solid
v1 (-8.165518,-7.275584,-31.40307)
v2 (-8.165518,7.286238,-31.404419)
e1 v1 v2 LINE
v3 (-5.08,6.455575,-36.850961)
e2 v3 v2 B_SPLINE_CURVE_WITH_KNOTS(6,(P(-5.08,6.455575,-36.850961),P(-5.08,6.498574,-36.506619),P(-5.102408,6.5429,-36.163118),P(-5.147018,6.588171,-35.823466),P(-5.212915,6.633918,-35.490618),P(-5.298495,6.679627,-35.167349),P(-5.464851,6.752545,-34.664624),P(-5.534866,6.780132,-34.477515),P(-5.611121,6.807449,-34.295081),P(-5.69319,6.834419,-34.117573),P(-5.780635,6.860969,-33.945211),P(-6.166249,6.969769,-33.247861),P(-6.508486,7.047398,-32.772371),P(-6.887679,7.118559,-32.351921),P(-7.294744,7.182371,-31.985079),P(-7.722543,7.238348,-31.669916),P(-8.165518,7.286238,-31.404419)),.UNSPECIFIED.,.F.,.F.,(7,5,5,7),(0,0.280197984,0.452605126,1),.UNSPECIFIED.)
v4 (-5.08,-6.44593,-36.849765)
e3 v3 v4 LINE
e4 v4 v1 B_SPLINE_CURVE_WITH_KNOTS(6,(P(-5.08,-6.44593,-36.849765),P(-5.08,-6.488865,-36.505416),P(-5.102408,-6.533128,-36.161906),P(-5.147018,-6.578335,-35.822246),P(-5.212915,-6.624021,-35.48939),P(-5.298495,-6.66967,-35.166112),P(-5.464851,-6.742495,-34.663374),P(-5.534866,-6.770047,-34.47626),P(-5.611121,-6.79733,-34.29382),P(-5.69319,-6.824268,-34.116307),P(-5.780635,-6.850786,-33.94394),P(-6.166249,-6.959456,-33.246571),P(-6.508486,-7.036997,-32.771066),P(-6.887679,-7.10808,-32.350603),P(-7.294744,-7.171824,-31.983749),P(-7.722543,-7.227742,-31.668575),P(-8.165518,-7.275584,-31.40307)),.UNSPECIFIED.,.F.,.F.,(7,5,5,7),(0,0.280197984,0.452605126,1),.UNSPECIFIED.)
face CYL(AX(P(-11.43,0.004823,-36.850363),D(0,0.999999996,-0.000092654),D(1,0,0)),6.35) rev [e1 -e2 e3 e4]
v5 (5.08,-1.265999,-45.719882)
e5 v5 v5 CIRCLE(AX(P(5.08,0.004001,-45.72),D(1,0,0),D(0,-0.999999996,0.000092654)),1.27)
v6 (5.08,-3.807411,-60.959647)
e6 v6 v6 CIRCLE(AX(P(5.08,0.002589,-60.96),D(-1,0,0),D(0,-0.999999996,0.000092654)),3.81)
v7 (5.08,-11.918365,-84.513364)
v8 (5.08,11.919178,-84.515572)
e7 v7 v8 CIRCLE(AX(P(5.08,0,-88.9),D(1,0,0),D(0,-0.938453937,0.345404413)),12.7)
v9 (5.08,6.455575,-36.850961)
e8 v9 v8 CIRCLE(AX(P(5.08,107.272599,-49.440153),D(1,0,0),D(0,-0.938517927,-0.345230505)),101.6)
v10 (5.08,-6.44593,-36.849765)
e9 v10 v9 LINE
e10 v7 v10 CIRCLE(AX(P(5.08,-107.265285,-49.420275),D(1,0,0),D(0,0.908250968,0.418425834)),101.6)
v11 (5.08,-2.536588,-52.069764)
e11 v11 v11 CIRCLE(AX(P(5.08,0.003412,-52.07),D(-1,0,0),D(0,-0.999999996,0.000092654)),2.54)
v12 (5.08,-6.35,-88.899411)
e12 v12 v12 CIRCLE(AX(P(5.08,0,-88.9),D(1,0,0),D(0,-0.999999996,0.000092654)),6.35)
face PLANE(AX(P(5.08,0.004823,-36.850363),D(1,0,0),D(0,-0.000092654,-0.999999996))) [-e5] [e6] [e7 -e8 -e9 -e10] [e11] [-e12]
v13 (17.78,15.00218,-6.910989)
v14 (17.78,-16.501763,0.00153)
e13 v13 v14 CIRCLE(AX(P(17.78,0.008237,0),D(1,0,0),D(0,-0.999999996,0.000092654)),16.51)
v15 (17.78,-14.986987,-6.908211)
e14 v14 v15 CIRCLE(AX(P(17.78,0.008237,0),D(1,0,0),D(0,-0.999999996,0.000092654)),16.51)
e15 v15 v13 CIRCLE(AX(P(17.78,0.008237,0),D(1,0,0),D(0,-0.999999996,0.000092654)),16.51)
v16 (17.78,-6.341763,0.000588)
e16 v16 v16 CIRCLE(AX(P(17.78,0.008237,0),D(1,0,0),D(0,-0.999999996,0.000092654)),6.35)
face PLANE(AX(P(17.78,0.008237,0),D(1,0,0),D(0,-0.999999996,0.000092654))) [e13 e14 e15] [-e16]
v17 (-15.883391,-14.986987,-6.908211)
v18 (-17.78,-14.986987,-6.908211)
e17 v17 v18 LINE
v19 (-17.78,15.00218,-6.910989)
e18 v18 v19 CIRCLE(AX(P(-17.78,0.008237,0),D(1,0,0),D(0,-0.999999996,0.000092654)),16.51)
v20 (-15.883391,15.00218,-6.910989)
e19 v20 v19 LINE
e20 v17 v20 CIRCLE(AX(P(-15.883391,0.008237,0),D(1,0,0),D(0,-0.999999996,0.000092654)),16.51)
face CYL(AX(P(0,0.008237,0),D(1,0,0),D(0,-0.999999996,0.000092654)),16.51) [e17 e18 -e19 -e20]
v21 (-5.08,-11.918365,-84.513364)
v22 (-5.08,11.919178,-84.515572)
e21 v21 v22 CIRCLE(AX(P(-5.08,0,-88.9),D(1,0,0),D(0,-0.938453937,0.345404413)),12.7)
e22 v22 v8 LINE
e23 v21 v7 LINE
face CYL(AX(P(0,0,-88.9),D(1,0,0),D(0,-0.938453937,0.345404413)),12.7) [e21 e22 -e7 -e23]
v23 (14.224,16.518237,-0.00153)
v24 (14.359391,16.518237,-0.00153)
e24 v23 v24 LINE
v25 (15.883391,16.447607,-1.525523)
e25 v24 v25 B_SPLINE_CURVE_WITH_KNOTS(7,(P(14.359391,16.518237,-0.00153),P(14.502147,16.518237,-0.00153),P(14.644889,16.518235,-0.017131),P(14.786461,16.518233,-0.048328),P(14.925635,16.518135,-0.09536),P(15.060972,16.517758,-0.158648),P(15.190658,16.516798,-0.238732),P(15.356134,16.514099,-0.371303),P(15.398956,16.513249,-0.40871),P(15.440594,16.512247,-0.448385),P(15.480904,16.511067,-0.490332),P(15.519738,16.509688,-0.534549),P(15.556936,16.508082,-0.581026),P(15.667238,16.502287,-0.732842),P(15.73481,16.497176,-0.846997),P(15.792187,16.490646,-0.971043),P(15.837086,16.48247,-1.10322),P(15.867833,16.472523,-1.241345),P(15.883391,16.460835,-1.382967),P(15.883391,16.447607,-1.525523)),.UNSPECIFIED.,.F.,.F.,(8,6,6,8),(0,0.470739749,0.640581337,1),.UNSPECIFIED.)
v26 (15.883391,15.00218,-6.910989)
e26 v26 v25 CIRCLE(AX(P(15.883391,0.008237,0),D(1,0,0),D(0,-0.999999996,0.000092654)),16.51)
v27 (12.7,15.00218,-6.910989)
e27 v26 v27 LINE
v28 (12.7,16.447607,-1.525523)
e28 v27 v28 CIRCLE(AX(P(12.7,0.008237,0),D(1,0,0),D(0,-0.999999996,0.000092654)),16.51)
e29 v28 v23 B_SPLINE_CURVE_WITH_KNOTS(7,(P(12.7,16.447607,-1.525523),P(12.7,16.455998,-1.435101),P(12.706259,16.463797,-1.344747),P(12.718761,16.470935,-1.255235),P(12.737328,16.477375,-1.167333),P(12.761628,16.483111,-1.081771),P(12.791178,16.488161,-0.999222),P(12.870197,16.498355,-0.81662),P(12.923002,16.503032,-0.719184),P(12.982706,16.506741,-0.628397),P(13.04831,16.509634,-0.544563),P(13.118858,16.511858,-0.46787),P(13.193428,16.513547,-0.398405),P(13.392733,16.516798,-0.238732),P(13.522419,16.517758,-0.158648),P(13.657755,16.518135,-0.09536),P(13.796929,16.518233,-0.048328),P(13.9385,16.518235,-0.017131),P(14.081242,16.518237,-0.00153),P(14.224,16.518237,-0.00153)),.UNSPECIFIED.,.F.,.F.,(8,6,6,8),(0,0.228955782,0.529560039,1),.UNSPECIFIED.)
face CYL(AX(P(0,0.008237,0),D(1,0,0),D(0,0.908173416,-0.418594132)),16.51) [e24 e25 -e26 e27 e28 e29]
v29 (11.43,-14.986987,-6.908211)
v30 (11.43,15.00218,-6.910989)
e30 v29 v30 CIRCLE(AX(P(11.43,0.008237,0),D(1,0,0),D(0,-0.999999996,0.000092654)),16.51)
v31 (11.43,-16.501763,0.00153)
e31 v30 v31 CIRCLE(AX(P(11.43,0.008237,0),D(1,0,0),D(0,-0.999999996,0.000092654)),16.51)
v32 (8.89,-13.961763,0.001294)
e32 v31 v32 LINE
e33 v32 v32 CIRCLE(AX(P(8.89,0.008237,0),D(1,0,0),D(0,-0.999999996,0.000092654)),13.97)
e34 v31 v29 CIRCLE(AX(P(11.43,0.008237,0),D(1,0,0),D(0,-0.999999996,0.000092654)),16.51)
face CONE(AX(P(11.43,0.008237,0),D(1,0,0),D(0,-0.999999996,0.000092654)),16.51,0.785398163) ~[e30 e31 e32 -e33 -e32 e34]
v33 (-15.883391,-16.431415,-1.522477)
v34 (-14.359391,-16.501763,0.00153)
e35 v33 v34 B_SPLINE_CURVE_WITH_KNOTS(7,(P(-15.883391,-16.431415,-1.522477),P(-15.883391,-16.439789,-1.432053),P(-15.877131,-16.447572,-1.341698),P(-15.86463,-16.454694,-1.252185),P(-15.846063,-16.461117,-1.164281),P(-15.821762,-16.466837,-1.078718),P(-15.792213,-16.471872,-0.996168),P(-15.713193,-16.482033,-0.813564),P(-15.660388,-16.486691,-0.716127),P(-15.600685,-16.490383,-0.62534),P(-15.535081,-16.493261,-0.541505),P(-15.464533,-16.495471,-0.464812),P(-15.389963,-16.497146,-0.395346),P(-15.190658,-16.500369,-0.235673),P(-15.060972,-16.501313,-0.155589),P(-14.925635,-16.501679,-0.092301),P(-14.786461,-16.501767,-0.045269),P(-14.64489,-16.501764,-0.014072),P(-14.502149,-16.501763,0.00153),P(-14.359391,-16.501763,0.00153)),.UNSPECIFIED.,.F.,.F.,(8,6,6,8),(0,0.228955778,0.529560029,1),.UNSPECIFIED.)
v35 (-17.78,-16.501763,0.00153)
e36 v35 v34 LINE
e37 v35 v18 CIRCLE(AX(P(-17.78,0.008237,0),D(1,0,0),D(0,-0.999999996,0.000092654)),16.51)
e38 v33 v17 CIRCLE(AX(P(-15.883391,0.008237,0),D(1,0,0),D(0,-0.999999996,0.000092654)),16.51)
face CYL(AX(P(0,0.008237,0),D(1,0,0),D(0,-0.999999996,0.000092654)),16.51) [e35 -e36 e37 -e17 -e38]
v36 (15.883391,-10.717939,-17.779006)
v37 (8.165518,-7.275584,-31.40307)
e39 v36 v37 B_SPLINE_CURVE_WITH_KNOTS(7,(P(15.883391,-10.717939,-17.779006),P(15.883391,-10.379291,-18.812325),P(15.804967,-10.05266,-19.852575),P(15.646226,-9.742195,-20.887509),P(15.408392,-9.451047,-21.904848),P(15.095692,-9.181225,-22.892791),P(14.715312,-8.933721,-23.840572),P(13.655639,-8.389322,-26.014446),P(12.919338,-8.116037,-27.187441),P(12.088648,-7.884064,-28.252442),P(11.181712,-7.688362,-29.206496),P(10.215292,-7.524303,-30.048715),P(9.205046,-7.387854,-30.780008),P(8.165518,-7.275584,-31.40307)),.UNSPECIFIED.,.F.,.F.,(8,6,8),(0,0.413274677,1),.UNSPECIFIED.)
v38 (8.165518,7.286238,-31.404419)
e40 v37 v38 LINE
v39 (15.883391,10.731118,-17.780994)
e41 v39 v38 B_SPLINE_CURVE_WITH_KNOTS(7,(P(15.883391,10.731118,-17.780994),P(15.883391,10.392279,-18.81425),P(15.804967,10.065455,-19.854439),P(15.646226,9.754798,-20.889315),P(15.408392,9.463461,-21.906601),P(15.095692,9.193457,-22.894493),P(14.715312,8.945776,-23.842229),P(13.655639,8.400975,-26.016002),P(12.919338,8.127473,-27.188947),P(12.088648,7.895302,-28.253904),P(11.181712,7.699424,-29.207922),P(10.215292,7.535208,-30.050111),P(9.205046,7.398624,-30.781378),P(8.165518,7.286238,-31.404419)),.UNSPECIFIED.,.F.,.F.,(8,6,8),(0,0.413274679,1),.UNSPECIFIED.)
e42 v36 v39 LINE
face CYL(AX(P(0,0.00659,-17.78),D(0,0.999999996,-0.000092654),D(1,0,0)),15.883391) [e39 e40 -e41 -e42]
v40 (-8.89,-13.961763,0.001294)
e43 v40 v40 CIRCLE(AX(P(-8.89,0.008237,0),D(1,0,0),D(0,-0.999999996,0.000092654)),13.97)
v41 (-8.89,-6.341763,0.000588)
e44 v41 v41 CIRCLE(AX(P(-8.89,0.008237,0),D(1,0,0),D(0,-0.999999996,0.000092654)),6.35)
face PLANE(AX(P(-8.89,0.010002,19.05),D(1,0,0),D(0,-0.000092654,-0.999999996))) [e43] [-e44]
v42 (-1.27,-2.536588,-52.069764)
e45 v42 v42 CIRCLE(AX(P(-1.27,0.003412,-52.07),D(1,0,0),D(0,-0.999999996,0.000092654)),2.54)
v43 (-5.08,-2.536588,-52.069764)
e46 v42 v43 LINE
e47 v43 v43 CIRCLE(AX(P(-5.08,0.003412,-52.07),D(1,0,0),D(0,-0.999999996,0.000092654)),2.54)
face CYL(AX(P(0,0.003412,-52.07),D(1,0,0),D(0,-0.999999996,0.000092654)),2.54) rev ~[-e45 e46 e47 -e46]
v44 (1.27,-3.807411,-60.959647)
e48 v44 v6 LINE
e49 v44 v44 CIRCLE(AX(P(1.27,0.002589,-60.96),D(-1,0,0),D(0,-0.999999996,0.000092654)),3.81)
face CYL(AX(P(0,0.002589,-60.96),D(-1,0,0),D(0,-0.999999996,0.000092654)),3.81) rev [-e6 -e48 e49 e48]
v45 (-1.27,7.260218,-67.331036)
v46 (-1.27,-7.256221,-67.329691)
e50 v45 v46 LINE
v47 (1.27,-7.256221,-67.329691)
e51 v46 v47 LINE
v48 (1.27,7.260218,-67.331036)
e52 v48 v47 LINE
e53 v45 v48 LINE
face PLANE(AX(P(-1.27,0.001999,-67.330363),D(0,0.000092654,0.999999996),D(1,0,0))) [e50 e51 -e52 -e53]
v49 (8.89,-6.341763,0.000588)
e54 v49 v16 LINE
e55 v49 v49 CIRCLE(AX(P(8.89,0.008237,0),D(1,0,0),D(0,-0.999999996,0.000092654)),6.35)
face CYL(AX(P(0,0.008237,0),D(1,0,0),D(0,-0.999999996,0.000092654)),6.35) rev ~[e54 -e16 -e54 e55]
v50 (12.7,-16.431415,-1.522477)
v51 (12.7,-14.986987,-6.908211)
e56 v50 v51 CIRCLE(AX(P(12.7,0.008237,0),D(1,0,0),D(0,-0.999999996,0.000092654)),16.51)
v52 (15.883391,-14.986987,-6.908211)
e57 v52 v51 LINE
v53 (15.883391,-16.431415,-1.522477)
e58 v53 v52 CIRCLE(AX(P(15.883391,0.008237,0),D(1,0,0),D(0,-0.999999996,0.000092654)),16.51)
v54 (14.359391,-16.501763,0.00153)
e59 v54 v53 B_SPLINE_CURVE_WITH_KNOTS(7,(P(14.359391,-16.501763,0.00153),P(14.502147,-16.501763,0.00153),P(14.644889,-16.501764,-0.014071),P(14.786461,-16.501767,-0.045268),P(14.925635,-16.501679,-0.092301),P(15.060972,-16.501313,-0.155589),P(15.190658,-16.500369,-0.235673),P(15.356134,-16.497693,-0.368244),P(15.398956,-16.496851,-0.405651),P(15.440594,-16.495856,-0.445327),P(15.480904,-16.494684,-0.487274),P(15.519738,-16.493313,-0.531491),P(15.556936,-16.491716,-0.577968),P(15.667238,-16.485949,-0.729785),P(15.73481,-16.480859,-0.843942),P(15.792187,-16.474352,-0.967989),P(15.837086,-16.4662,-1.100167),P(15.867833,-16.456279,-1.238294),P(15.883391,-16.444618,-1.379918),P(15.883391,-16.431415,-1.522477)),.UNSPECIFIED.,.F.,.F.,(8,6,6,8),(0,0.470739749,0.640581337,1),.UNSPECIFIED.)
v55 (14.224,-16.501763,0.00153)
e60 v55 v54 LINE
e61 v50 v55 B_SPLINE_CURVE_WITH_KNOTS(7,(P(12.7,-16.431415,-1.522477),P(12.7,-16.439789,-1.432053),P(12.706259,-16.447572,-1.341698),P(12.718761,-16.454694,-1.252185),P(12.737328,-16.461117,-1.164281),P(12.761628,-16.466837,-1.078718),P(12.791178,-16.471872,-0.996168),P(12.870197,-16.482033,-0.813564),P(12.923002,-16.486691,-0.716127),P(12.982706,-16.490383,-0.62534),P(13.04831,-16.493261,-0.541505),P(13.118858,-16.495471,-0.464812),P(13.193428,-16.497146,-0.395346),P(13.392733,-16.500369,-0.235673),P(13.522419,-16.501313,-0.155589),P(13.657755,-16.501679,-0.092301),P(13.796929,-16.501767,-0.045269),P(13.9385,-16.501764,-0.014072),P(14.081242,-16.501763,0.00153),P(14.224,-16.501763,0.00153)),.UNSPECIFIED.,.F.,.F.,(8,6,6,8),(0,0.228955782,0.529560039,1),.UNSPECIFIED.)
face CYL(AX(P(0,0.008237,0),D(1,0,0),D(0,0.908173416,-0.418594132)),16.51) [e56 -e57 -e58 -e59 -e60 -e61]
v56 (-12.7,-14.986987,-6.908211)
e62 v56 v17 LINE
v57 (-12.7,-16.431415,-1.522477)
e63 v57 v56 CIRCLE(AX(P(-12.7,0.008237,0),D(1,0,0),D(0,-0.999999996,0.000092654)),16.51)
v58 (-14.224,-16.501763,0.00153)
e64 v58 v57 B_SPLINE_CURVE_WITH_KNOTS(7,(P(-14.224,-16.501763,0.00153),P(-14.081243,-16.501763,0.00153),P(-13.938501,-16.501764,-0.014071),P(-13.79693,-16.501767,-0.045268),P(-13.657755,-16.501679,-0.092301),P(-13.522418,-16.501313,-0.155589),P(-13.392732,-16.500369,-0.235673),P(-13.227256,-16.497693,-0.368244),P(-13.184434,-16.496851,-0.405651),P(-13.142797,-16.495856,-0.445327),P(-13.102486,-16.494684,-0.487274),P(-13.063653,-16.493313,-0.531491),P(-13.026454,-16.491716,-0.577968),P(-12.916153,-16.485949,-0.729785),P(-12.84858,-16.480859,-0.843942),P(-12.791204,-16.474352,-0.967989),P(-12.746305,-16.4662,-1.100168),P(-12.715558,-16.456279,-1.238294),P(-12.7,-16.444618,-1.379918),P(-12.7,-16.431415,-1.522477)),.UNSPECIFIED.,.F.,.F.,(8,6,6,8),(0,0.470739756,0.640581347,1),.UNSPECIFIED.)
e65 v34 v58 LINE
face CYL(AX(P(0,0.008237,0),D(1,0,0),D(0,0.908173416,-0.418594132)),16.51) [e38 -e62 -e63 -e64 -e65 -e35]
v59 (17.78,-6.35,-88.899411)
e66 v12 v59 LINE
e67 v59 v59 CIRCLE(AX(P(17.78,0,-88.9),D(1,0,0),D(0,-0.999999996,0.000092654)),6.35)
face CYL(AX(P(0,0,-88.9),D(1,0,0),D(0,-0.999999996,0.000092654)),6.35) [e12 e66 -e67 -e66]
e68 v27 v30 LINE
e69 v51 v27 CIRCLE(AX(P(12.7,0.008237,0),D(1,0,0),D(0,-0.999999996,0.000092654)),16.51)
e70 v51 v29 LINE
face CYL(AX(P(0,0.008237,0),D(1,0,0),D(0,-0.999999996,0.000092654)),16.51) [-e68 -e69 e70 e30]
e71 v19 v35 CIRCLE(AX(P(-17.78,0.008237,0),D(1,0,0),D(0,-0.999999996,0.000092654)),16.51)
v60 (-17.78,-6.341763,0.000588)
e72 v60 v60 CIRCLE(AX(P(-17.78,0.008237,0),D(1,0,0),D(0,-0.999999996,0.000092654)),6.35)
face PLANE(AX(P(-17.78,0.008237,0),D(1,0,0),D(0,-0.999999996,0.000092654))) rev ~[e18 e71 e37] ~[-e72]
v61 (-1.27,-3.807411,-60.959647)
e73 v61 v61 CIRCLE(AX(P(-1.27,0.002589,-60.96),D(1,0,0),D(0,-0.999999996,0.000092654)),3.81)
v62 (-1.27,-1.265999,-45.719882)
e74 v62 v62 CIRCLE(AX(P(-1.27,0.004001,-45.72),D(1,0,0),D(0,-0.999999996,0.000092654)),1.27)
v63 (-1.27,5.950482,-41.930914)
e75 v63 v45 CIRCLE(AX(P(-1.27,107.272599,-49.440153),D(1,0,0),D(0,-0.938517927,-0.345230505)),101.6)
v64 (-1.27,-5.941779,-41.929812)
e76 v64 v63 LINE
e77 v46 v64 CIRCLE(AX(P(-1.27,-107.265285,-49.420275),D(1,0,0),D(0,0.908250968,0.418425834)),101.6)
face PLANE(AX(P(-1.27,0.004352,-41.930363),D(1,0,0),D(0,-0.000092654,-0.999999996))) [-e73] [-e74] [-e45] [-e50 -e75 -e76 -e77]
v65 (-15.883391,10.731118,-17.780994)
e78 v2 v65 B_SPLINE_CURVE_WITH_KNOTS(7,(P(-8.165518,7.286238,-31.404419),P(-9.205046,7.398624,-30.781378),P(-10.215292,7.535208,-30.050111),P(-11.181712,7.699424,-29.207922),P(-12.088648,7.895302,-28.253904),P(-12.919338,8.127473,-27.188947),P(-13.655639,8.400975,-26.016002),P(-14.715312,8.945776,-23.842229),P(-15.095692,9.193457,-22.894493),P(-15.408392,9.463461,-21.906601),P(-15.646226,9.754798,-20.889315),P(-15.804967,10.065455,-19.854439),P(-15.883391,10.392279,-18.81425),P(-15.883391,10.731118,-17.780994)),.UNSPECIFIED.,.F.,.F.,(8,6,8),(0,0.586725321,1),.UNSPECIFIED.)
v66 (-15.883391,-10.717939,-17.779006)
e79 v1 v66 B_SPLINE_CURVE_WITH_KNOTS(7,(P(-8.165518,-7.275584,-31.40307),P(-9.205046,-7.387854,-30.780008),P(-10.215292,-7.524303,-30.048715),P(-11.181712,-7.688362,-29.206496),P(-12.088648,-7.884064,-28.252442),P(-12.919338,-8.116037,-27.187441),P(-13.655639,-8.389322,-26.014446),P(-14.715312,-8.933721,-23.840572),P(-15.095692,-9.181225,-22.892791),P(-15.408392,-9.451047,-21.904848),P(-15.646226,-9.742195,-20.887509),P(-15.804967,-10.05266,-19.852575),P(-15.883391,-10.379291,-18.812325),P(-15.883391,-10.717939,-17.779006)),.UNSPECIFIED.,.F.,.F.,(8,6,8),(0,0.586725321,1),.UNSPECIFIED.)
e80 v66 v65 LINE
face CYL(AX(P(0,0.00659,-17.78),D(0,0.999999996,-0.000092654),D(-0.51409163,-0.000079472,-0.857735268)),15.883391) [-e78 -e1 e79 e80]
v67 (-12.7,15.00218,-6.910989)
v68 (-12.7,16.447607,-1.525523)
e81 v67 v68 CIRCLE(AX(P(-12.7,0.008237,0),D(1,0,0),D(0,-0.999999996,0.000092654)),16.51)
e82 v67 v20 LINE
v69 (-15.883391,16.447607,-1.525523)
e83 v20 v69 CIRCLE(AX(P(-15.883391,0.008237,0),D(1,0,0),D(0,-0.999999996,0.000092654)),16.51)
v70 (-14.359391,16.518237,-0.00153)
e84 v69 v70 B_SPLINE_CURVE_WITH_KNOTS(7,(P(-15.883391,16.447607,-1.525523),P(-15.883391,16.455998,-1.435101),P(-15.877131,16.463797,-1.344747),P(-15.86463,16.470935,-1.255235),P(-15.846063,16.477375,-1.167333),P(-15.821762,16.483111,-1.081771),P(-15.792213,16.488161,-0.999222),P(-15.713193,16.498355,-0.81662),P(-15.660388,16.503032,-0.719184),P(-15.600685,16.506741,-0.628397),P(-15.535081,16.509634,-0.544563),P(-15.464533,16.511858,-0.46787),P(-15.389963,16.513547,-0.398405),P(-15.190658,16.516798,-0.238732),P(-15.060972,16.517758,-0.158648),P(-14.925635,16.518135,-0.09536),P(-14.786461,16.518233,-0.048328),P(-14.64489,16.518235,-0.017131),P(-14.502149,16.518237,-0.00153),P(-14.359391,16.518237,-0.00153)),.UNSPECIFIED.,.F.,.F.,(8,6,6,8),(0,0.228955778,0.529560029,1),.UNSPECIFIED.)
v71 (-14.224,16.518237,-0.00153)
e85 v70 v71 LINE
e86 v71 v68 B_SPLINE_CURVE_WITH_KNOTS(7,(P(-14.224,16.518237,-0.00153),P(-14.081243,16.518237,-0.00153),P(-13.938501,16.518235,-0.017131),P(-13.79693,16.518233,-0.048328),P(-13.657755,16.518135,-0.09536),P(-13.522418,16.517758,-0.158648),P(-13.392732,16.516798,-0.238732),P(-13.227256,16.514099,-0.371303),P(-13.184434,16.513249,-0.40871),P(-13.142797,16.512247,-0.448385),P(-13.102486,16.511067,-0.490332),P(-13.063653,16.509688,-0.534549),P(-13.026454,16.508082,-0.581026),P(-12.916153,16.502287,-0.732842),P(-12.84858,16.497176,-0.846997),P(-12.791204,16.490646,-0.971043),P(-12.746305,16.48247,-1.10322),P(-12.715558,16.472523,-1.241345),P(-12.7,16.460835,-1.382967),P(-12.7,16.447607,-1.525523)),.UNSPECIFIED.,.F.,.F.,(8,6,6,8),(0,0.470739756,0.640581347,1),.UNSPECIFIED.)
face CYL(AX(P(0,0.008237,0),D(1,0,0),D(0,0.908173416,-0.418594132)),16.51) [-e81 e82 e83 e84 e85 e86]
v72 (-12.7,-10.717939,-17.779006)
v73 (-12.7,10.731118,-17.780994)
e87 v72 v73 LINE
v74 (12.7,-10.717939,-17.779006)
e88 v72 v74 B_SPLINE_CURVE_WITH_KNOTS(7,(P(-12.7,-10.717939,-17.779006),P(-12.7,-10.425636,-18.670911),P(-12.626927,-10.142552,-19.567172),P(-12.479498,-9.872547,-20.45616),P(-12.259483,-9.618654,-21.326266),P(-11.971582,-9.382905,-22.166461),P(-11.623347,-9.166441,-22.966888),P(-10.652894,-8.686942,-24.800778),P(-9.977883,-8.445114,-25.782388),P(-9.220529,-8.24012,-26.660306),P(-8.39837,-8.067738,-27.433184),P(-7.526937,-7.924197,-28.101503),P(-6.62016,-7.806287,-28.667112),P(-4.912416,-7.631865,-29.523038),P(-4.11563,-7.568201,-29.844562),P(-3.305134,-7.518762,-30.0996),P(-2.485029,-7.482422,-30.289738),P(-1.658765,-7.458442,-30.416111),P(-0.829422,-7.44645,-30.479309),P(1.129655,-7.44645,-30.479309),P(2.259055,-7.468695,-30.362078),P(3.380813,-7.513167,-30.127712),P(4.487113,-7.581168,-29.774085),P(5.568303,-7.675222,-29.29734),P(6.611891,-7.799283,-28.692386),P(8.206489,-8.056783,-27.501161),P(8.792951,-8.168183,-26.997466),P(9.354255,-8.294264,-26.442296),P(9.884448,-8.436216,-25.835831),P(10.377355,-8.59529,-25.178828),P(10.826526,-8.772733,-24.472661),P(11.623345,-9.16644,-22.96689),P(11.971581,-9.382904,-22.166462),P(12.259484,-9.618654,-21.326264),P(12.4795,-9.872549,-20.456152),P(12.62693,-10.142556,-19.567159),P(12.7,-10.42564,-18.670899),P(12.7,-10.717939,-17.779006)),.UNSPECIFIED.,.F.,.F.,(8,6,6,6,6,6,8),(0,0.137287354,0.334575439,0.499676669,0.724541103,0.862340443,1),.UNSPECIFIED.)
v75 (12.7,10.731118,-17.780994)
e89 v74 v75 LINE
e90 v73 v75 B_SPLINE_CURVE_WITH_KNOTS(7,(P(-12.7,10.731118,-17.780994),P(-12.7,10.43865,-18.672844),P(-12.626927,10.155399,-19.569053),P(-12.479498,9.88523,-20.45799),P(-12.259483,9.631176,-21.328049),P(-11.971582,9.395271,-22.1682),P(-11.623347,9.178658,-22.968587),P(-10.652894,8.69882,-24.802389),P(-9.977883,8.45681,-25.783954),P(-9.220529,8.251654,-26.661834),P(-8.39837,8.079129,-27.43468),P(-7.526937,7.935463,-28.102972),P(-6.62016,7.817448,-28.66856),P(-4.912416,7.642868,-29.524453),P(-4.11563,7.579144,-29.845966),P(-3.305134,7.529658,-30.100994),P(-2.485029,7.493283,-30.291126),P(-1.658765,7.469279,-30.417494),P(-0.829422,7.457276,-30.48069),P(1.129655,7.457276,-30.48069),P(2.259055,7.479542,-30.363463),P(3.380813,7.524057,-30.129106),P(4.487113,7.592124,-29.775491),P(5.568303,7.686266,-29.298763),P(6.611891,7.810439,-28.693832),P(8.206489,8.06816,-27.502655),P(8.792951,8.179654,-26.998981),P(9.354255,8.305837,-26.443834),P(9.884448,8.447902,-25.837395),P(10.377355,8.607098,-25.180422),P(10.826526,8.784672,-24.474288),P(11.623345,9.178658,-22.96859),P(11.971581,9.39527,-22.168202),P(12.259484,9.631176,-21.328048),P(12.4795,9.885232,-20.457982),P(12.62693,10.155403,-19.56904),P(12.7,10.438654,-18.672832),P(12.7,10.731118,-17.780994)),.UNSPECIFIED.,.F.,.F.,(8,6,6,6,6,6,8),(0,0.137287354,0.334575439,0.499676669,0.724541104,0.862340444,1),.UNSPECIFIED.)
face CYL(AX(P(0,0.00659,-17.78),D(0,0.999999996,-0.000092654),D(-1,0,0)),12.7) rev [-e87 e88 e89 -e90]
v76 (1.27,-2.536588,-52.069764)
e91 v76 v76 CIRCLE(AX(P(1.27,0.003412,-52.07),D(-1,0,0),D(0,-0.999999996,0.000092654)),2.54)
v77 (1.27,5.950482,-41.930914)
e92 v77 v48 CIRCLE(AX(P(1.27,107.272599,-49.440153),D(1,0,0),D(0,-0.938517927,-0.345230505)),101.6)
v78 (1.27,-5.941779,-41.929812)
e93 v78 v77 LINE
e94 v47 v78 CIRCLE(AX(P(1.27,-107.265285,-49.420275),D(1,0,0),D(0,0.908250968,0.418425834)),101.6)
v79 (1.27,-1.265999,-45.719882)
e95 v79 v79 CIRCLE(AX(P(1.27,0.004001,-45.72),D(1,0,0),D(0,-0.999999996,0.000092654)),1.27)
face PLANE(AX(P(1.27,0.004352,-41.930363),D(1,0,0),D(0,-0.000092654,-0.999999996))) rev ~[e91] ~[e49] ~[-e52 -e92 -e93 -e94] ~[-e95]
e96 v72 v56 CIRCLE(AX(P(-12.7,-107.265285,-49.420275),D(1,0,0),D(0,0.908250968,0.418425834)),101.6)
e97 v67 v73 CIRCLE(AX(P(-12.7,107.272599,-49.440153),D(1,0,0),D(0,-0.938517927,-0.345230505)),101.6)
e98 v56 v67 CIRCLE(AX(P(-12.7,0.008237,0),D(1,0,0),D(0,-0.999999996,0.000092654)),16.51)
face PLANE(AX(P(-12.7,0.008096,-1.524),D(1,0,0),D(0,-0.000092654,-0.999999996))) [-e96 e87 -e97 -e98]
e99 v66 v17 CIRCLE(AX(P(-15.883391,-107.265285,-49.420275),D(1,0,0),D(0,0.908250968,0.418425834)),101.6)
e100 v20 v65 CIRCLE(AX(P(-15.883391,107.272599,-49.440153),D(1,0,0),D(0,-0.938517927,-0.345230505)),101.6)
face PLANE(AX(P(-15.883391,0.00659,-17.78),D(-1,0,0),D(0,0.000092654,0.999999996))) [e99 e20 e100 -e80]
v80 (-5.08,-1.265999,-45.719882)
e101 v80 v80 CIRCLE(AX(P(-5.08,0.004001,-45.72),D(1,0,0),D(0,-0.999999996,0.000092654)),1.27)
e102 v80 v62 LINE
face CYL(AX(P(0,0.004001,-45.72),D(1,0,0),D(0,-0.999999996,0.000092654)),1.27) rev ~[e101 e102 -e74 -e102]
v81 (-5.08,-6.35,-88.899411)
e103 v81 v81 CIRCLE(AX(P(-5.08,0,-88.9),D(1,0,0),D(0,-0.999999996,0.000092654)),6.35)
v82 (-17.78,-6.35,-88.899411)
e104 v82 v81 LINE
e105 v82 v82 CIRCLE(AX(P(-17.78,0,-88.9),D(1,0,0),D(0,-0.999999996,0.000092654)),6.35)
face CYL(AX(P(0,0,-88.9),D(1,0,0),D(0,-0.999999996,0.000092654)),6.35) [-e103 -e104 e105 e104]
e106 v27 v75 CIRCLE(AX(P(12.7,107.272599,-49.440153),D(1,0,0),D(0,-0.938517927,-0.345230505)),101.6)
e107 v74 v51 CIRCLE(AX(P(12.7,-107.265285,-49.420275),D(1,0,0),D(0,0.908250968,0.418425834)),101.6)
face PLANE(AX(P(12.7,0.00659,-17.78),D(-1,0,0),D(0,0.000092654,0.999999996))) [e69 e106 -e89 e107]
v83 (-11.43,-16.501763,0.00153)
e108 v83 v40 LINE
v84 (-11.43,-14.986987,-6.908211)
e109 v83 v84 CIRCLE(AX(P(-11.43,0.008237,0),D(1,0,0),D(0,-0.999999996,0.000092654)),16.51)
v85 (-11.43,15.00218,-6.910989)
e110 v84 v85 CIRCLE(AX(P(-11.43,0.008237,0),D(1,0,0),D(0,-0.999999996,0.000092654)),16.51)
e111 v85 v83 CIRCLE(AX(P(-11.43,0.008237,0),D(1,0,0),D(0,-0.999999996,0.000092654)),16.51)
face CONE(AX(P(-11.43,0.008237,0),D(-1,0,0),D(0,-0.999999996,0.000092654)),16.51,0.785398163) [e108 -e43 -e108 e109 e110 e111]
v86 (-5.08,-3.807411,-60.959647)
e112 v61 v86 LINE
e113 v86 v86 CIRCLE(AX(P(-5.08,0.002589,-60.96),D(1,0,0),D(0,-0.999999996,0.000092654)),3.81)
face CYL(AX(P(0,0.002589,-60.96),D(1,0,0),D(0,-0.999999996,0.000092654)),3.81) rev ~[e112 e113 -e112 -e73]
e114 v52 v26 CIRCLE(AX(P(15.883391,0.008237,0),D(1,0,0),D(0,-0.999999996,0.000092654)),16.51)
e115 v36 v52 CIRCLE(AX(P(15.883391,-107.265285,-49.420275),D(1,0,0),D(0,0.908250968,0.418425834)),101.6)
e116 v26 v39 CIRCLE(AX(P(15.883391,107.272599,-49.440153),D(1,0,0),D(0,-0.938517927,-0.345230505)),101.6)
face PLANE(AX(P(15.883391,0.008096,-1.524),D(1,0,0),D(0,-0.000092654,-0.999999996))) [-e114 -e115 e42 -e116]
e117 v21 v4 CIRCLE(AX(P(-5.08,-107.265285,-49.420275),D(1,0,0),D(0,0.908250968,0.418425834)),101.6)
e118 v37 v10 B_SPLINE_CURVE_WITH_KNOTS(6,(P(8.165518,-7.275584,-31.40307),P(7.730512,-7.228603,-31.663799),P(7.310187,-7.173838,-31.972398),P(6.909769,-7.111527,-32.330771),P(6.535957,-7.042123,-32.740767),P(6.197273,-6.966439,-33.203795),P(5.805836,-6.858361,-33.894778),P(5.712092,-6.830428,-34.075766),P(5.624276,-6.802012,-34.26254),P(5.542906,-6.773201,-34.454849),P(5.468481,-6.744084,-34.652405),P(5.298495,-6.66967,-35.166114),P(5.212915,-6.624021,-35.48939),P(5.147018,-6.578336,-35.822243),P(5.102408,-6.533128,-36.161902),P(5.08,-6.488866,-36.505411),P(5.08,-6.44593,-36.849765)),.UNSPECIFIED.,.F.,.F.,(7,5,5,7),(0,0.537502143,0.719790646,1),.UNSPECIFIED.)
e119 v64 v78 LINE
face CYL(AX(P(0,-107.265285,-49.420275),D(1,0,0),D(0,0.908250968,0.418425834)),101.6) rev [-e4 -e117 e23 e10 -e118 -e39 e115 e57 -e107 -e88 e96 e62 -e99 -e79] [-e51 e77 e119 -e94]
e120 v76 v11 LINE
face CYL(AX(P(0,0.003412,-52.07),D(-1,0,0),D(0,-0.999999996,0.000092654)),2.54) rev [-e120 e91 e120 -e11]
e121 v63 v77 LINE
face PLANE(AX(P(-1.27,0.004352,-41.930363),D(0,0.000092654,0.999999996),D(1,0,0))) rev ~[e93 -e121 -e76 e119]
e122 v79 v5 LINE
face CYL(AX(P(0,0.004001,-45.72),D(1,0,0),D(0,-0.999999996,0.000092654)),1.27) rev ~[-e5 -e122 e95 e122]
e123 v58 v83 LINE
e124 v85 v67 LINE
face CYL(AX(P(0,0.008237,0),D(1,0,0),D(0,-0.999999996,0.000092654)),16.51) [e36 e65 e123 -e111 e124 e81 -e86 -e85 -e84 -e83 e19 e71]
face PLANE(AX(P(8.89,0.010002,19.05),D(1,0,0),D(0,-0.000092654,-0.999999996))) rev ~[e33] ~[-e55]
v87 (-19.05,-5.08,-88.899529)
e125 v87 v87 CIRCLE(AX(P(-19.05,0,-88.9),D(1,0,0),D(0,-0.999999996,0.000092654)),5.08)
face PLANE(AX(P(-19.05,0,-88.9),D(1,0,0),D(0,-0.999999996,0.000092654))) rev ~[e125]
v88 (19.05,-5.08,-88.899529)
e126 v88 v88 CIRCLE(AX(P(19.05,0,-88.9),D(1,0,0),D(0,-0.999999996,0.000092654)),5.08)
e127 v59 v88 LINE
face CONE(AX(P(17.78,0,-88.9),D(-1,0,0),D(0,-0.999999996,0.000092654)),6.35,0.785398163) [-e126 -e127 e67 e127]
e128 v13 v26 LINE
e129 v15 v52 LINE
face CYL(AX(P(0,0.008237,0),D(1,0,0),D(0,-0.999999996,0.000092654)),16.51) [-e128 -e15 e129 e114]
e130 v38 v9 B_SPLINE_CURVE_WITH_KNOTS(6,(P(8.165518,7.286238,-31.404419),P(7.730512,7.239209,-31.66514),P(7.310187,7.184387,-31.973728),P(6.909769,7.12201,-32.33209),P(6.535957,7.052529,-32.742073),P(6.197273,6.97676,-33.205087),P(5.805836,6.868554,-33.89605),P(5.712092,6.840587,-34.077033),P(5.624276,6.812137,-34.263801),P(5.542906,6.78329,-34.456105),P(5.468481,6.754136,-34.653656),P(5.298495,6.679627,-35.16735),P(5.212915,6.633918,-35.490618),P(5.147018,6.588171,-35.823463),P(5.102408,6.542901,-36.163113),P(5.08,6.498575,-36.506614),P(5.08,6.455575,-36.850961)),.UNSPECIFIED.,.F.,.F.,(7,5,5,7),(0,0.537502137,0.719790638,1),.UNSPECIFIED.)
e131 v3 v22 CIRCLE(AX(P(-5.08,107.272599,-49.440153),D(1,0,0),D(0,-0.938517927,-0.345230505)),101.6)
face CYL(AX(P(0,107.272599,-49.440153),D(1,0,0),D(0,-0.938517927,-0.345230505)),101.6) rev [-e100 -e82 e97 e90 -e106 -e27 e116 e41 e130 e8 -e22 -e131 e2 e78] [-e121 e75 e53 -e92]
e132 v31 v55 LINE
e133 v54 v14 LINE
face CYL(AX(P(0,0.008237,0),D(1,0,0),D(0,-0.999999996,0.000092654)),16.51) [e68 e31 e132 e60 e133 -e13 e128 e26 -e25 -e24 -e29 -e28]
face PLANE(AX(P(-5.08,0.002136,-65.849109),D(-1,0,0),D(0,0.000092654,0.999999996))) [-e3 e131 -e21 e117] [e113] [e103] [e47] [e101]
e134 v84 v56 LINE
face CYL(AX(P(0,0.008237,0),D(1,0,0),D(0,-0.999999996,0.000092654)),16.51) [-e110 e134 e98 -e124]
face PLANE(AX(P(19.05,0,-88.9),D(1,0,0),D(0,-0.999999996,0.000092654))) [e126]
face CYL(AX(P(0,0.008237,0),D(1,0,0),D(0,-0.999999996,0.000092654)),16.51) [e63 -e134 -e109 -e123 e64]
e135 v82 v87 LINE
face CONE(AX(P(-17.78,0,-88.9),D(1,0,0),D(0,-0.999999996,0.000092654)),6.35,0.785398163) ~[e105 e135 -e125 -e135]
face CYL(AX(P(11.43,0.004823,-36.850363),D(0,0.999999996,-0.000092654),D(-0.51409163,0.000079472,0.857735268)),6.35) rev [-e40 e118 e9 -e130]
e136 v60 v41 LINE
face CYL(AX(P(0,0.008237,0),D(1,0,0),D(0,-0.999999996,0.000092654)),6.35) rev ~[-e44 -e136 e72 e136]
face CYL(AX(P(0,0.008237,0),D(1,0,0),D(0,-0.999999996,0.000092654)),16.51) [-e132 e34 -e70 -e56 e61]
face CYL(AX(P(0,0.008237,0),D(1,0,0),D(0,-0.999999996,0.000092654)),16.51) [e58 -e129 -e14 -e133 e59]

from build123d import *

# Parameters (mm, degrees)
F1_DEPTH  = 19.05
F3_R      = 16.51
F4_DEPTH  = 17.78
F2_R      = 6.35
F6_DEPTH  = 38.1
F5_W      = 17.78
F5_H      = 38.1
F7_DEPTH  = 19.05
F8_SIZE   = 2.54
F10_DEPTH = 5.08
F11_R     = 6.35
F12_DEPTH = 19.05
F13_SIZE  = 1.27
F15_DEPTH = 38.1
F16_W     = 2.54
F16_H     = 25.4
F17_DEPTH = 25.4
F18_R     = 3.81
F18_R_2   = 2.54
F18_R_3   = 1.27
F19_DEPTH = 12.7
F20_ANGLE = 179.9946913403


with BuildPart() as f1:
    # F0 (on Front) → F1 (new body, symmetric)
    with BuildSketch(Plane.XZ):
        with BuildLine():
            ThreePointArc((-5.08, -13.9496366999), (-5.9049678847, -17.0795760164), (-8.1655181496, -19.3962556739))
            ThreePointArc((-8.1655181496, -19.3962556739), (-13.8198807904, -25.1910159629), (-15.8833905736, -33.02))
            Line((-15.8833905736, -33.02), (-15.8833905736, -49.276))
            ThreePointArc((-15.8833905736, -49.276), (-15.4370213081, -50.3536307345), (-14.3593905736, -50.8))
            Line((-14.3593905736, -50.8), (-14.224, -50.8))
            ThreePointArc((-14.224, -50.8), (-13.1463692655, -50.3536307345), (-12.7, -49.276))
            Line((-12.7, -49.276), (-12.7, -33.02))
            ThreePointArc((-12.7, -33.02), (0, -20.32), (12.7, -33.02))
            Line((12.7, -33.02), (12.7, -49.276))
            ThreePointArc((12.7, -49.276), (13.1463692655, -50.3536307345), (14.224, -50.8))
            Line((14.224, -50.8), (14.3593905736, -50.8))
            ThreePointArc((14.3593905736, -50.8), (15.4370213081, -50.3536307345), (15.8833905736, -49.276))
            Line((15.8833905736, -49.276), (15.8833905736, -33.02))
            ThreePointArc((15.8833905736, -33.02), (13.8198807904, -25.1910159629), (8.1655181496, -19.3962556739))
            ThreePointArc((8.1655181496, -19.3962556739), (5.9049678847, -17.0795760164), (5.08, -13.9496366999))
            Line((5.08, -13.9496366999), (5.08, 15.0491094791))
            Line((5.08, 15.0491094791), (-5.08, 15.0491094791))
            Line((-5.08, 15.0491094791), (-5.08, -13.9496366999))
        make_face()
    extrude(amount=F1_DEPTH, both=True)

    # F3 (on Right) → F4 (join, symmetric)
    with BuildSketch(Plane.YZ):
        with Locations((0, -50.8)):
            Circle(F3_R)
    extrude(amount=F4_DEPTH, both=True)

    # F2 (on Right) → F6 (cut, symmetric)
    with BuildSketch(Plane.YZ):
        with Locations((0, -50.8)):
            Circle(F2_R)
    extrude(amount=F6_DEPTH, both=True, mode=Mode.SUBTRACT)

    # F5 (on Front) → F7 (cut, symmetric)
    with BuildSketch(Plane.XZ):
        with Locations((0, -50.8)):
            Rectangle(F5_W, F5_H)
    extrude(amount=F7_DEPTH, both=True, mode=Mode.SUBTRACT)

    # F8
    f8_edges = [f1.edges().sort_by_distance(p)[0] for p in [
        (-8.89, -16.51, -50.8),
        (8.89, -16.51, -50.8),
    ]]
    chamfer(f8_edges, length=F8_SIZE)

    # F9 (on Right) → F10 (join, symmetric)
    with BuildSketch(Plane.YZ):
        with BuildLine():
            Line((19.0499954742, 12.6868685902), (19.0499954742, 38.0868685902))
            ThreePointArc((19.0499954742, 38.0868685902), (0, 57.15), (-19.0499954742, 38.0868685902))
            Line((-19.0499954742, 38.0868685902), (-19.0499954742, 12.6868685902))
            Line((-19.0499954742, 12.6868685902), (19.0499954742, 12.6868685902))
        make_face()
    extrude(amount=F10_DEPTH, both=True)

    # F11 (on Right) → F12 (join, symmetric)
    with BuildSketch(Plane.YZ):
        with Locations((0, 38.1)):
            Circle(F11_R)
    extrude(amount=F12_DEPTH, both=True)

    # F13
    f13_edges = [f1.edges().sort_by_distance(p)[0] for p in [
        (-19.05, -6.35, 38.1),
        (19.05, -6.35, 38.1),
    ]]
    chamfer(f13_edges, length=F13_SIZE)

    # F14 (on Right) → F15 (intersect, symmetric)
    with BuildSketch(Plane.YZ):
        with BuildLine():
            ThreePointArc((14.9945833541, -43.8904001536), (5.7486490124, -5.3934679933), (11.918771384, 33.714468254))
            ThreePointArc((11.918771384, 33.714468254), (0, 50.8), (-11.918771384, 33.714468254))
            ThreePointArc((-11.918771384, 33.714468254), (-5.7486490124, -5.3934679933), (-14.9945833541, -43.8904001536))
            ThreePointArc((-14.9945833541, -43.8904001536), (0, -67.31), (14.9945833541, -43.8904001536))
        make_face()
    extrude(amount=F15_DEPTH, both=True, mode=Mode.INTERSECT)

    # F16 (on Front) → F17 (cut, symmetric)
    with BuildSketch(Plane.XZ):
        with Locations((0, 3.8303633001)):
            Rectangle(F16_W, F16_H)
    extrude(amount=F17_DEPTH, both=True, mode=Mode.SUBTRACT)

    # F18 (on Right) → F19 (cut, symmetric)
    with BuildSketch(Plane.YZ):
        with Locations((0, 10.16)):
            Circle(F18_R)
        with Locations((0, 1.27)):
            Circle(F18_R_2)
        with Locations((0, -5.08)):
            Circle(F18_R_3)
    extrude(amount=F19_DEPTH, both=True, mode=Mode.SUBTRACT)


with BuildPart() as f1_1:
    # F20: moved
    add(f1.part.rotate(Axis((19.05, 0, 38.1), (1, 0, 0)), F20_ANGLE))


with BuildPart() as f1_2:
    # F22: moved
    add(f1_1.part.moved(Location((0, 0, -126.9999996184))))


solid = f1_2.part
